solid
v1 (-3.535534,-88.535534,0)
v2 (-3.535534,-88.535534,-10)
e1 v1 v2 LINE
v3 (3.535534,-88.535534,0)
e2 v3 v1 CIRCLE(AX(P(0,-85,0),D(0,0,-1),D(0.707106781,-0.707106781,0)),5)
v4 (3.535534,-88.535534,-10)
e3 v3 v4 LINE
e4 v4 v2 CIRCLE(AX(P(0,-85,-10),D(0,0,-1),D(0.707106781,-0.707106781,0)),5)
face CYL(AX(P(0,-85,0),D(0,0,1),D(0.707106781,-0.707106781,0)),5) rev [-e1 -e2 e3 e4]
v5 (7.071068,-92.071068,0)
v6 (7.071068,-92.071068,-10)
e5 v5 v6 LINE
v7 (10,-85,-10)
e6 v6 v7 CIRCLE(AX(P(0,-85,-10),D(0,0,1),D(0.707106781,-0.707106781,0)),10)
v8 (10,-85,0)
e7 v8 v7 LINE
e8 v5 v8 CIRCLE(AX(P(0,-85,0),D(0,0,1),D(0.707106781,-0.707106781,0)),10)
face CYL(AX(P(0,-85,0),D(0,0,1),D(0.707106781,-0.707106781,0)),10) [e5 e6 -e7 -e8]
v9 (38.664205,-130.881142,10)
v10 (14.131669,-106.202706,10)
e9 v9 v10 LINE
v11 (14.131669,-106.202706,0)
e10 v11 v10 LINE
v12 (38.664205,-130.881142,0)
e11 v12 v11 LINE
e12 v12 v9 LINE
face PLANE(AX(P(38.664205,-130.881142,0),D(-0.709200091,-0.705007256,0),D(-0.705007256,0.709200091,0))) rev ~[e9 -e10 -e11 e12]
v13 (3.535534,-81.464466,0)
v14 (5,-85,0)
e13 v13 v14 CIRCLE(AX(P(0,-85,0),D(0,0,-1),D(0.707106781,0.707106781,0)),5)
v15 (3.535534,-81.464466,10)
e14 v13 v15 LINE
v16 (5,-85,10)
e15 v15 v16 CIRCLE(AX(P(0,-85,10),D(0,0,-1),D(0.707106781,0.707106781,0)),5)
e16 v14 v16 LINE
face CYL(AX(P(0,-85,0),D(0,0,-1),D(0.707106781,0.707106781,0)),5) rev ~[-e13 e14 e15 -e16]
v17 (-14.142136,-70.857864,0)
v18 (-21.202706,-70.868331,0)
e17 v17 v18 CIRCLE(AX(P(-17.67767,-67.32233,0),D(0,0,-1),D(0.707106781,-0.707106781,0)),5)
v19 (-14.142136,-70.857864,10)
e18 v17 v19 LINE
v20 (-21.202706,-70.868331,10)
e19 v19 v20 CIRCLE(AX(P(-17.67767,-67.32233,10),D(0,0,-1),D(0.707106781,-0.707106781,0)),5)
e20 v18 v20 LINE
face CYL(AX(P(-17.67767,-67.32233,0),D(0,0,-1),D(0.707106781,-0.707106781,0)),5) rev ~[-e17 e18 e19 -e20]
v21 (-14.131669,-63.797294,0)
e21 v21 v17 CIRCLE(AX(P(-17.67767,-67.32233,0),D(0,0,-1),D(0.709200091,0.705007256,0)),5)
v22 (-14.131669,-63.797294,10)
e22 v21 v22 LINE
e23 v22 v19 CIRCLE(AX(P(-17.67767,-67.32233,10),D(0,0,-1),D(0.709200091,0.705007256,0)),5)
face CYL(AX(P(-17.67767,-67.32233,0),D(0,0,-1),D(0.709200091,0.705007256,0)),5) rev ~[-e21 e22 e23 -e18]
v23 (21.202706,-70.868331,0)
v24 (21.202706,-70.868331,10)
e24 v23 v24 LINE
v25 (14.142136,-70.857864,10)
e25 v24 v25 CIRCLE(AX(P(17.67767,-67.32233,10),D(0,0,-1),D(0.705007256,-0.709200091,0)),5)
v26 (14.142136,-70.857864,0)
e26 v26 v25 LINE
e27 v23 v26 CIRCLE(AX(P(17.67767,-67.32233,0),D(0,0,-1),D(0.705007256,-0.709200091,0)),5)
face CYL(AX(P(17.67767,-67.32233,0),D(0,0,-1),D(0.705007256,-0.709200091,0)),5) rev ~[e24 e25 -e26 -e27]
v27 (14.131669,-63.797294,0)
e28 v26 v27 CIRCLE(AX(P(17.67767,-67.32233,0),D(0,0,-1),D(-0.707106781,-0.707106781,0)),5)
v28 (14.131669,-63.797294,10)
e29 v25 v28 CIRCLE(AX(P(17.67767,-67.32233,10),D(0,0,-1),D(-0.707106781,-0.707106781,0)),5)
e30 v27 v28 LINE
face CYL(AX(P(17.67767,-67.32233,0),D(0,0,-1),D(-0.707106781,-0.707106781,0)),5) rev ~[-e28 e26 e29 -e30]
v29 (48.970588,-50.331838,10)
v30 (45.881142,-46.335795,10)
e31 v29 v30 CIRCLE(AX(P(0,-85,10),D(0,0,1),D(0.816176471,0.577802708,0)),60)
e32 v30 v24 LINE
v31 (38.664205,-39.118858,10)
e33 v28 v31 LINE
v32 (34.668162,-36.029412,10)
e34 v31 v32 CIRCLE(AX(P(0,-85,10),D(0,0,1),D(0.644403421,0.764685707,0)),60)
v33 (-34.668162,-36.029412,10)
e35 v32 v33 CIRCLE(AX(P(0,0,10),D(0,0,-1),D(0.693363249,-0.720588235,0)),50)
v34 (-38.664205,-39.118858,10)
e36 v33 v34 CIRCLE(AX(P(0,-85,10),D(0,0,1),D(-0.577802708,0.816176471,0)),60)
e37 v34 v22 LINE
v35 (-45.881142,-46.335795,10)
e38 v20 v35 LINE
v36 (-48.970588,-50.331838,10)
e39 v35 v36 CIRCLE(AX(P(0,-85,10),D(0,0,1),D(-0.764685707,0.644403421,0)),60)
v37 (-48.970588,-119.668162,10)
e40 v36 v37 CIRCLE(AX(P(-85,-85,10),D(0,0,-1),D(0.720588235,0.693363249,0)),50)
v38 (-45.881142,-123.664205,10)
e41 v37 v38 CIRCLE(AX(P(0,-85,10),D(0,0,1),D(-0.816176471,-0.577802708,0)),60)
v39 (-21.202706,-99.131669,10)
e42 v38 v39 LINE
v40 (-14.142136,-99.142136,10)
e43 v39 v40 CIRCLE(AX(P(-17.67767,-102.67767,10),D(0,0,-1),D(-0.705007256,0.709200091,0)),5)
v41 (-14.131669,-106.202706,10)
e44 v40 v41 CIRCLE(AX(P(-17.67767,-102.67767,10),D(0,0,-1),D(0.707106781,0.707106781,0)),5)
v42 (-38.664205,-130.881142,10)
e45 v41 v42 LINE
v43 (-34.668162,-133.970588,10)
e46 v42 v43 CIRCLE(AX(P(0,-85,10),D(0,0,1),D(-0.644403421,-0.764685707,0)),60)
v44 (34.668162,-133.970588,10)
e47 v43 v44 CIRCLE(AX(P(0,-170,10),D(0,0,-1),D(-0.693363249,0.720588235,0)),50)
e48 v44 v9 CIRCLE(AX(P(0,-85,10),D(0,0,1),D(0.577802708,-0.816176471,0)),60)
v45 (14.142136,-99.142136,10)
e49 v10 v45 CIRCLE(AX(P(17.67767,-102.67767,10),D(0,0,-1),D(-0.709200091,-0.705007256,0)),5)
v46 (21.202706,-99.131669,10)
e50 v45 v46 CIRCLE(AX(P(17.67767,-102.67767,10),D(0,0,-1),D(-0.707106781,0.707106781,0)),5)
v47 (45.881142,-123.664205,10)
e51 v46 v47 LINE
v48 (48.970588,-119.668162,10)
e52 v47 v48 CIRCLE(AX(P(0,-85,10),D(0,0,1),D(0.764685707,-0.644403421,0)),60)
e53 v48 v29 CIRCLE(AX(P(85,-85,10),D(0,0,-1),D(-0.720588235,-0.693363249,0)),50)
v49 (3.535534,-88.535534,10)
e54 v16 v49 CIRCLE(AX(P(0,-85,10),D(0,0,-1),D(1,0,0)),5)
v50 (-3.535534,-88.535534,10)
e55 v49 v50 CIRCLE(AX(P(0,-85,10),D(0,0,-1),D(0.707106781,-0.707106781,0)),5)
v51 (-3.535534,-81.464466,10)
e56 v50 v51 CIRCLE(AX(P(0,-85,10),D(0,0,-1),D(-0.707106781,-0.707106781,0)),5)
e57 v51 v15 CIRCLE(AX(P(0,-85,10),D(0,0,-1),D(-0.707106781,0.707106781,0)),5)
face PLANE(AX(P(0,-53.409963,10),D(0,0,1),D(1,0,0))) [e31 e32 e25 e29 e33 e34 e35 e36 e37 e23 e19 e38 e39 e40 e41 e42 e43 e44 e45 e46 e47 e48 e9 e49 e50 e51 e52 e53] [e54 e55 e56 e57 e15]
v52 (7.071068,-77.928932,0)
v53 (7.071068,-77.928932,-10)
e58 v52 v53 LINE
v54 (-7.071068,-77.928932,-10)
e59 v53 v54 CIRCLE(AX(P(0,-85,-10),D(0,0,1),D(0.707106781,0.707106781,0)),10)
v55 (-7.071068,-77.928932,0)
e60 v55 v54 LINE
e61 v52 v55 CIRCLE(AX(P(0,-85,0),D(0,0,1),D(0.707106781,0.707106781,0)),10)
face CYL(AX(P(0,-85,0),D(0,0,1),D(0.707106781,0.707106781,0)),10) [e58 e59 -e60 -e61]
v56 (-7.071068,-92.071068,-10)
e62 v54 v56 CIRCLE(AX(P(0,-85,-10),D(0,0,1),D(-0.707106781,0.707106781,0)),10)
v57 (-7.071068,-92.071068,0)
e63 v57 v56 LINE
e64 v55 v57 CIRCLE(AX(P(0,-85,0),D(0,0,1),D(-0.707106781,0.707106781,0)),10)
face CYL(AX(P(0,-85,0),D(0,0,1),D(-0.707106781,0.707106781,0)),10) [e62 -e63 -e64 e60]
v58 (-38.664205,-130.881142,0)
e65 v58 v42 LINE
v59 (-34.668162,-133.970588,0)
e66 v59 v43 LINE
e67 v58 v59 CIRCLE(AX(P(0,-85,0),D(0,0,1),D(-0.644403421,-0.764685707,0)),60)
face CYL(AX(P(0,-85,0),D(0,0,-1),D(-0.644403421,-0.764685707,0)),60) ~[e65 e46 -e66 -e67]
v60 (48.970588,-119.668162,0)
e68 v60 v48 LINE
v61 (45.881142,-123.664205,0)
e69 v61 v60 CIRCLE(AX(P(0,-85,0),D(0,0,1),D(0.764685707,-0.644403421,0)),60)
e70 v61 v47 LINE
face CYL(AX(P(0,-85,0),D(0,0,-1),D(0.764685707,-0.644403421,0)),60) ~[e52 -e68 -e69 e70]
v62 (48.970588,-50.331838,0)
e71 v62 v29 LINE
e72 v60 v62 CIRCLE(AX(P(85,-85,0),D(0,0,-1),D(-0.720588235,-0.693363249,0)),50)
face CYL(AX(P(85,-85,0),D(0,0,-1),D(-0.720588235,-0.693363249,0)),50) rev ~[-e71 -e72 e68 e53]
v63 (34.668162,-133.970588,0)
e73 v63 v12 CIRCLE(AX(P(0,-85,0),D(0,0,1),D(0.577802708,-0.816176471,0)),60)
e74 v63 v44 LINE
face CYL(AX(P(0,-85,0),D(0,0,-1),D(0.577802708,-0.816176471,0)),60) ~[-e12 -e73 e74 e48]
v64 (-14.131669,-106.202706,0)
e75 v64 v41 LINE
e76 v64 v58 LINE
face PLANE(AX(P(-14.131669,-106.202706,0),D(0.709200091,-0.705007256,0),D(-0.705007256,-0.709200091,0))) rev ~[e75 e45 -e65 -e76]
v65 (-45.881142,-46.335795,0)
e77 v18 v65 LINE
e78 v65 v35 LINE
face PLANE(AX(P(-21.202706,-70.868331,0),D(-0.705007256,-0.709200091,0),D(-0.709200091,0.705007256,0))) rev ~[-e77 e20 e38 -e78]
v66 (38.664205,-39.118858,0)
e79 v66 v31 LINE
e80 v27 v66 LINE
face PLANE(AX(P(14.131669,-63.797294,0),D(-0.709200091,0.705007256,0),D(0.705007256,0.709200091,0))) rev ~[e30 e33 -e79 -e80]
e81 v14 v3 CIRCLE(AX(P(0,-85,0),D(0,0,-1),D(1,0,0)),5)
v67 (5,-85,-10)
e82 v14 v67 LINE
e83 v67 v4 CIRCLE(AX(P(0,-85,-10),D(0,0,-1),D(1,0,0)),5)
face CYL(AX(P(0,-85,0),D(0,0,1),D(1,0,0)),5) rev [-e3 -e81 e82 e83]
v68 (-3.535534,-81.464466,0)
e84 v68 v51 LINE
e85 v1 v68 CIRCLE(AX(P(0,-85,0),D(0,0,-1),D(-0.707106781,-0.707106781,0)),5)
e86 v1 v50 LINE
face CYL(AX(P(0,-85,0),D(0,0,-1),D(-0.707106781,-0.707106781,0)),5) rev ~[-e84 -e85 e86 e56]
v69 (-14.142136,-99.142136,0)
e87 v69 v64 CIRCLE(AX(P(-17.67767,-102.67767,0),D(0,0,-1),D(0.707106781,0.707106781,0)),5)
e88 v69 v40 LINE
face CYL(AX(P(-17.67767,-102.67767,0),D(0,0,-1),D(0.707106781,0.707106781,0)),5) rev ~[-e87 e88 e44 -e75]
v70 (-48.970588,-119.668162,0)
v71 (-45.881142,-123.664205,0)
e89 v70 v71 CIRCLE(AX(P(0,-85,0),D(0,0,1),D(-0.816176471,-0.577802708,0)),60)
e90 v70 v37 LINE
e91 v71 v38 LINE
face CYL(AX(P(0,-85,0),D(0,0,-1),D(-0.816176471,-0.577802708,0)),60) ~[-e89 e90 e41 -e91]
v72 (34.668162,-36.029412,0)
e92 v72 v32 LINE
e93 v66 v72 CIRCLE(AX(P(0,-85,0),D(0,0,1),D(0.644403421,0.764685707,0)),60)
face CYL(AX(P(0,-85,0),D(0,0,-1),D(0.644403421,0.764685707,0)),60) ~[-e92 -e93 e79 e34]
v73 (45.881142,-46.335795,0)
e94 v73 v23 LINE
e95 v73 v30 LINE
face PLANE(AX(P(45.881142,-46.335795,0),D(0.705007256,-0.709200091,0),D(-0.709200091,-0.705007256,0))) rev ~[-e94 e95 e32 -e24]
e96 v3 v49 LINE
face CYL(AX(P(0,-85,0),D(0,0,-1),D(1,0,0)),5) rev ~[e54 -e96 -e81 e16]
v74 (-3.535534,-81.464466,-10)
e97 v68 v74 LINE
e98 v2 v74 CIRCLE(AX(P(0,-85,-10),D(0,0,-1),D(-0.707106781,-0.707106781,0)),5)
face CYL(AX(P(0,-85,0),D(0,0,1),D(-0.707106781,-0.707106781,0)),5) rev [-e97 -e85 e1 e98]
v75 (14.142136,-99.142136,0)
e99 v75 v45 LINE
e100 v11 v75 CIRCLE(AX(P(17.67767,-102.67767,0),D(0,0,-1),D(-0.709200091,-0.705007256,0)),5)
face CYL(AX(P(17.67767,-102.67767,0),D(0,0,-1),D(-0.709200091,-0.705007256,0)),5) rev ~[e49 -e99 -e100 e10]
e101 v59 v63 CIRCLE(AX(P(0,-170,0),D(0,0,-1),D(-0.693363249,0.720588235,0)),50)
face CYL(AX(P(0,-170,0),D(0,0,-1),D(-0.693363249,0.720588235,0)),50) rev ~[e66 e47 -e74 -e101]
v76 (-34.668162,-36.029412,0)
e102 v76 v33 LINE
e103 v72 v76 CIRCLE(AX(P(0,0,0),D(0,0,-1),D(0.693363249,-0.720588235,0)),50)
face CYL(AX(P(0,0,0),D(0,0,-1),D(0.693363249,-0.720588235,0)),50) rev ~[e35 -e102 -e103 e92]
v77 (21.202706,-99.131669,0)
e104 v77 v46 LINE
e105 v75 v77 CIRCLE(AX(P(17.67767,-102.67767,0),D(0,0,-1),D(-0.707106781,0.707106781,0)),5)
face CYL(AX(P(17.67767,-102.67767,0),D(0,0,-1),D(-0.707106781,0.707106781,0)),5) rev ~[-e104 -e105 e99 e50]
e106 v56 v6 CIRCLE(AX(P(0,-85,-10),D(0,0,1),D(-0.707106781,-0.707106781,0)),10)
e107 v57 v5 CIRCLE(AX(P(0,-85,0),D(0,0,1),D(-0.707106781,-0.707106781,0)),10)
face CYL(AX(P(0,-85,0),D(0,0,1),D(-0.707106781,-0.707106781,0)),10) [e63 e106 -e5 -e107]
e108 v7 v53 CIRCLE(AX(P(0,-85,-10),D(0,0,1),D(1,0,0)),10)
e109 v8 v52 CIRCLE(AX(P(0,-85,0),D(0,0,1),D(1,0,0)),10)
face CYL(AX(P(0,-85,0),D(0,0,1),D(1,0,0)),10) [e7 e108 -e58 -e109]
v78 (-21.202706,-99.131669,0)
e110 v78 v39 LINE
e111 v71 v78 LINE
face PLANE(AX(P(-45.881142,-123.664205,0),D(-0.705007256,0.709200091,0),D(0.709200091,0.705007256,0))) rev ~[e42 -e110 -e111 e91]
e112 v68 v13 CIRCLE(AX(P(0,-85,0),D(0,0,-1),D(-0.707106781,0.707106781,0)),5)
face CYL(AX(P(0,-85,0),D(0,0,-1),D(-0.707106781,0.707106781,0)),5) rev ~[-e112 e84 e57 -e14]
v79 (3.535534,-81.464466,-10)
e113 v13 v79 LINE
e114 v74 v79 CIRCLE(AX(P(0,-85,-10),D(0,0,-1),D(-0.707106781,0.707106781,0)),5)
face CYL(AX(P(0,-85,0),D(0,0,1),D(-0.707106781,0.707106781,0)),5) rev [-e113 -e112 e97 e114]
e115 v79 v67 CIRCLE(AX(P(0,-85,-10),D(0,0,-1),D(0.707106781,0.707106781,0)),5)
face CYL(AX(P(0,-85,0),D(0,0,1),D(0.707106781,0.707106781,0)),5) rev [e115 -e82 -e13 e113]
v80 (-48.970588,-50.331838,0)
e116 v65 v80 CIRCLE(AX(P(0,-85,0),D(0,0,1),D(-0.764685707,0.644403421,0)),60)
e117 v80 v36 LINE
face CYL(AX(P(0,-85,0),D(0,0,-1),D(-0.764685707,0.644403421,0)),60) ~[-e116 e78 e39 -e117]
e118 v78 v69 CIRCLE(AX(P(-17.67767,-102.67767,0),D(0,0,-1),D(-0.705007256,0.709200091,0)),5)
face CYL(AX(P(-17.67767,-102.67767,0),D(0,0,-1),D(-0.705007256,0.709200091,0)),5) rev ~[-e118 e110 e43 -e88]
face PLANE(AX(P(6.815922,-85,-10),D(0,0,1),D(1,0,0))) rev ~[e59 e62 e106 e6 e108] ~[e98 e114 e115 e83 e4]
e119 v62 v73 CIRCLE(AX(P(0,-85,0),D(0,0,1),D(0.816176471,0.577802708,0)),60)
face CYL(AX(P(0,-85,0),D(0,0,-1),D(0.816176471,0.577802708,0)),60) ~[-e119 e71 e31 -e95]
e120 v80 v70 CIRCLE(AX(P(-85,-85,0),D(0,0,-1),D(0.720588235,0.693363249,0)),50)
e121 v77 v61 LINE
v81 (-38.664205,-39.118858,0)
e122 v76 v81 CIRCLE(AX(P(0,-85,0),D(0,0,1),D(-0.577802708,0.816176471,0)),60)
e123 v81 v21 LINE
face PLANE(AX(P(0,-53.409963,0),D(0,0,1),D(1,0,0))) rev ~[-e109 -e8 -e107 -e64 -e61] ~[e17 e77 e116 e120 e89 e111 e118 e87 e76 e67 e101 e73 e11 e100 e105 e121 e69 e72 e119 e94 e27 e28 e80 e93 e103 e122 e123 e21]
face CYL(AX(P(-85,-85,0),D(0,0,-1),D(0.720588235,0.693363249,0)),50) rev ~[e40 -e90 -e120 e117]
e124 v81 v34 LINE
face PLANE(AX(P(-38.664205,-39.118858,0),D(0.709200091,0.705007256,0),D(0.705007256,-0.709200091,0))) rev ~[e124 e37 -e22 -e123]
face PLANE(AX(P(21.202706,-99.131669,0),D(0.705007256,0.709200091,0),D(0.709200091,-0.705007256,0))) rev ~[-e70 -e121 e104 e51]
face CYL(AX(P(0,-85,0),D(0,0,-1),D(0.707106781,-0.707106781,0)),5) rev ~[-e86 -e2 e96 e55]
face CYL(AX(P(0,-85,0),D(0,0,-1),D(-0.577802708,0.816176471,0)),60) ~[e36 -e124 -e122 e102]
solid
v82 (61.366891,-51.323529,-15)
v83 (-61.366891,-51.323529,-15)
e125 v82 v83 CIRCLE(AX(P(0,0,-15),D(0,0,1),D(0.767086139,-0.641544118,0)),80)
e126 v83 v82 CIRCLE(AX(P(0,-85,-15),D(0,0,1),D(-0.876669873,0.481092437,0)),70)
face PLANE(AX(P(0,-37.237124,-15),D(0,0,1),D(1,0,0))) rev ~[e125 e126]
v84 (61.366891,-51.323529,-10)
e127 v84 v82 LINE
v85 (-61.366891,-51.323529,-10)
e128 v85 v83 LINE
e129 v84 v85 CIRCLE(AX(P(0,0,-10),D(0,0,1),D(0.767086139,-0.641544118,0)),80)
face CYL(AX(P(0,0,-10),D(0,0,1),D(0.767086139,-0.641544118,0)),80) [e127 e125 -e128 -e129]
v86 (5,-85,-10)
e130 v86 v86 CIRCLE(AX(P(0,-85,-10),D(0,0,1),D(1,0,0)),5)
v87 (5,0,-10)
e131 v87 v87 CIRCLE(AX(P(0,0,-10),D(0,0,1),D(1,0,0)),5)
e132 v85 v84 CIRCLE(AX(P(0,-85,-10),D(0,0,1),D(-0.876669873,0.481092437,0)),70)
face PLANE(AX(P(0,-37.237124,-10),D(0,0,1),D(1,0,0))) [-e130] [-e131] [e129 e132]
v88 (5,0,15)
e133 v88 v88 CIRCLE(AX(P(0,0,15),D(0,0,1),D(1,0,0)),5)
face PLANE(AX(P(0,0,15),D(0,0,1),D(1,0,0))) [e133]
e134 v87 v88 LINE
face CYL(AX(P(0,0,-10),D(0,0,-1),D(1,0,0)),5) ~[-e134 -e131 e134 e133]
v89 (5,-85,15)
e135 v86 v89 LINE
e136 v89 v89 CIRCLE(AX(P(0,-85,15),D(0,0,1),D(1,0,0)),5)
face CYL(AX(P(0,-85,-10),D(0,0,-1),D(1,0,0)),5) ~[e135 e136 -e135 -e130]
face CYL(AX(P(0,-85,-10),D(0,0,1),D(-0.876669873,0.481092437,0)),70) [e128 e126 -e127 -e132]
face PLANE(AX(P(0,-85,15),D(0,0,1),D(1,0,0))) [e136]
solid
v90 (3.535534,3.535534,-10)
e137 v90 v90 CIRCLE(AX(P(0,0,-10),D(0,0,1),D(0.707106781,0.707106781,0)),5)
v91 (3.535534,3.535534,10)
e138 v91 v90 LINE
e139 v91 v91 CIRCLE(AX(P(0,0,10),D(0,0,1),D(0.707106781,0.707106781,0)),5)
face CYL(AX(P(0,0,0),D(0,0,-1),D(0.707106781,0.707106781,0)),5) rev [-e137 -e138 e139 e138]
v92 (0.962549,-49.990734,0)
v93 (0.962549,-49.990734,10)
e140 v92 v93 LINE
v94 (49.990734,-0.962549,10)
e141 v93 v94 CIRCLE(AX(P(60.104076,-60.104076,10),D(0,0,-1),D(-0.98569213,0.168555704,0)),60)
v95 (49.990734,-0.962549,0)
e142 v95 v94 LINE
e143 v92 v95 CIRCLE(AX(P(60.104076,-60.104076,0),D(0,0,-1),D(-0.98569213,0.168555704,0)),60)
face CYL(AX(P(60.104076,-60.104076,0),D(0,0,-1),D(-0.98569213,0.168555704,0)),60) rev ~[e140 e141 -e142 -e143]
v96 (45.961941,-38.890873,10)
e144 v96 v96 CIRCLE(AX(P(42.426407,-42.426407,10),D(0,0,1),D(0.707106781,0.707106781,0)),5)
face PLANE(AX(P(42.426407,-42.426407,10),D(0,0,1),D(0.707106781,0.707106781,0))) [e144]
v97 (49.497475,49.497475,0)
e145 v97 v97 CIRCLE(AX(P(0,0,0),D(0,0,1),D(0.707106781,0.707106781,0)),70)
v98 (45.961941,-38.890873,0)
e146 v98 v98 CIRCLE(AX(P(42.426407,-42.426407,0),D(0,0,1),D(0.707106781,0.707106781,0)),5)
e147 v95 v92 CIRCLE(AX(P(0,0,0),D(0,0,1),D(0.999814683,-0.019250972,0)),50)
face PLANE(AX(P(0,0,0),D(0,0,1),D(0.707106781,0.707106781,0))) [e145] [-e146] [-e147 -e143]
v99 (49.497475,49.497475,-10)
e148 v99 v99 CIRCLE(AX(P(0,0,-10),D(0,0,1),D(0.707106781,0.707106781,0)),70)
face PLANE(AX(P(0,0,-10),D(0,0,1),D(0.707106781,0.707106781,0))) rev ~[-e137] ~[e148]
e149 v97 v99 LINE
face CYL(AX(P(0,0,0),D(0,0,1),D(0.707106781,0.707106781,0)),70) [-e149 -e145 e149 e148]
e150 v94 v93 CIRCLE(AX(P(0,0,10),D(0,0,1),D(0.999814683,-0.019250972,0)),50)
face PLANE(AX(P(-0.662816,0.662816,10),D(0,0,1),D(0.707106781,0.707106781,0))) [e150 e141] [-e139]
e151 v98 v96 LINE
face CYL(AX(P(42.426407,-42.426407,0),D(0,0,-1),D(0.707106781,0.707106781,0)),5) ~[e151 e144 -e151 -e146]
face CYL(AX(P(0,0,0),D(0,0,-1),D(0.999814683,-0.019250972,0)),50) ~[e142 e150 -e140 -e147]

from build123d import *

# Parameters (mm, degrees)
F1_R      = 70
F1_R_2    = 5
F2_DEPTH  = 10
F3_DEPTH  = 10
F4_ANGLE  = 45
F6_DEPTH  = 10
F7_DEPTH  = 10
F8_R      = 5
F9_DEPTH  = 5
F10_DEPTH = 25


with BuildPart() as f2:
    # F1 (on Top) → F2 (new body, through all)
    with BuildSketch(Plane.XY):
        Circle(F1_R)
        with Locations((0, -60)):
            Circle(F1_R_2, mode=Mode.SUBTRACT)
        with BuildLine():
            ThreePointArc((-34.6681624533, -36.0294117647), (0, 50), (34.6681624533, -36.0294117647))
            ThreePointArc((34.6681624533, -36.0294117647), (0, -25), (-34.6681624533, -36.0294117647))
        make_face(mode=Mode.SUBTRACT)
        with BuildLine():
            ThreePointArc((-34.6681624533, -36.0294117647), (0, -25), (34.6681624533, -36.0294117647))
            ThreePointArc((34.6681624533, -36.0294117647), (0, 50), (-34.6681624533, -36.0294117647))
        make_face()
        Circle(F1_R_2, mode=Mode.SUBTRACT)
        with Locations((0, -60)):
            Circle(F1_R_2)
    extrude(amount=-F2_DEPTH)

    # F1 (on Top) → F3 (join)
    with BuildSketch(Plane.XY):
        with BuildLine():
            ThreePointArc((-34.6681624533, -36.0294117647), (0, -25), (34.6681624533, -36.0294117647))
            ThreePointArc((34.6681624533, -36.0294117647), (0, 50), (-34.6681624533, -36.0294117647))
        make_face()
        Circle(F1_R_2, mode=Mode.SUBTRACT)
        with Locations((0, -60)):
            Circle(F1_R_2)
    extrude(amount=F3_DEPTH)


with BuildPart() as f2_1:
    # F4: moved
    add(f2.part.rotate(Axis((0, 0, 10), (0, 0, 1)), F4_ANGLE))


with BuildPart() as f6:
    # F5 (on Top) → F6 (new body)
    with BuildSketch(Plane.XY):
        with BuildLine():
            ThreePointArc((34.6681624533, -36.0294117647), (0, -50), (-34.6681624533, -36.0294117647))
            ThreePointArc((-34.6681624533, -36.0294117647), (-36.6987085211, -37.532065635), (-38.6642052515, -39.1188575527))
            Line((-38.6642052515, -39.1188575527), (-14.1316690741, -63.7972941912))
            ThreePointArc((-14.1316690741, -63.7972941912), (-12.6776750234, -67.3297424342), (-14.1421356237, -70.8578643763))
            Line((-14.1421356237, -70.8578643763), (-7.0710678119, -77.9289321881))
            ThreePointArc((-7.0710678119, -77.9289321881), (0, -75), (7.0710678119, -77.9289321881))
            Line((7.0710678119, -77.9289321881), (14.1421356237, -70.8578643763))
            ThreePointArc((14.1421356237, -70.8578643763), (12.6776750234, -67.3297424342), (14.1316690741, -63.7972941912))
            Line((14.1316690741, -63.7972941912), (38.6642052515, -39.1188575527))
            ThreePointArc((38.6642052515, -39.1188575527), (36.6987085211, -37.532065635), (34.6681624533, -36.0294117647))
        make_face()
        with BuildLine():
            Line((-7.0710678119, -77.9289321881), (-14.1421356237, -70.8578643763))
            ThreePointArc((-14.1421356237, -70.8578643763), (-17.6702575658, -72.3223249766), (-21.2027058088, -70.8683309259))
            Line((-21.2027058088, -70.8683309259), (-45.8811424473, -46.3357947485))
            ThreePointArc((-45.8811424473, -46.3357947485), (-47.467934365, -48.3012914789), (-48.9705882353, -50.3318375467))
            ThreePointArc((-48.9705882353, -50.3318375467), (-35, -85), (-48.9705882353, -119.6681624533))
            ThreePointArc((-48.9705882353, -119.6681624533), (-47.467934365, -121.6987085211), (-45.8811424473, -123.6642052515))
            Line((-45.8811424473, -123.6642052515), (-21.2027058088, -99.1316690741))
            ThreePointArc((-21.2027058088, -99.1316690741), (-17.6702575658, -97.6776750234), (-14.1421356237, -99.1421356237))
            Line((-14.1421356237, -99.1421356237), (-7.0710678119, -92.0710678119))
            ThreePointArc((-7.0710678119, -92.0710678119), (-10, -85), (-7.0710678119, -77.9289321881))
        make_face()
        with BuildLine():
            ThreePointArc((21.2027058088, -70.8683309259), (17.6702575658, -72.3223249766), (14.1421356237, -70.8578643763))
            Line((14.1421356237, -70.8578643763), (7.0710678119, -77.9289321881))
            ThreePointArc((7.0710678119, -77.9289321881), (9.2387953251, -81.1731656763), (10, -85))
            ThreePointArc((10, -85), (9.2387953251, -88.8268343237), (7.0710678119, -92.0710678119))
            Line((7.0710678119, -92.0710678119), (14.1421356237, -99.1421356237))
            ThreePointArc((14.1421356237, -99.1421356237), (17.6702575658, -97.6776750234), (21.2027058088, -99.1316690741))
            Line((21.2027058088, -99.1316690741), (45.8811424473, -123.6642052515))
            ThreePointArc((45.8811424473, -123.6642052515), (47.467934365, -121.6987085211), (48.9705882353, -119.6681624533))
            ThreePointArc((48.9705882353, -119.6681624533), (35, -85), (48.9705882353, -50.3318375467))
            ThreePointArc((48.9705882353, -50.3318375467), (47.467934365, -48.3012914789), (45.8811424473, -46.3357947485))
            Line((45.8811424473, -46.3357947485), (21.2027058088, -70.8683309259))
        make_face()
        with BuildLine():
            ThreePointArc((7.0710678119, -92.0710678119), (0, -95), (-7.0710678119, -92.0710678119))
            Line((-7.0710678119, -92.0710678119), (-14.1421356237, -99.1421356237))
            ThreePointArc((-14.1421356237, -99.1421356237), (-12.6776750234, -102.6702575658), (-14.1316690741, -106.2027058088))
            Line((-14.1316690741, -106.2027058088), (-38.6642052515, -130.8811424473))
            ThreePointArc((-38.6642052515, -130.8811424473), (-36.6987085211, -132.467934365), (-34.6681624533, -133.9705882353))
            ThreePointArc((-34.6681624533, -133.9705882353), (0, -120), (34.6681624533, -133.9705882353))
            ThreePointArc((34.6681624533, -133.9705882353), (36.6987085211, -132.467934365), (38.6642052515, -130.8811424473))
            Line((38.6642052515, -130.8811424473), (14.1316690741, -106.2027058088))
            ThreePointArc((14.1316690741, -106.2027058088), (12.6776750234, -102.6702575658), (14.1421356237, -99.1421356237))
            Line((14.1421356237, -99.1421356237), (7.0710678119, -92.0710678119))
        make_face()
        with BuildLine():
            Line((-3.5355339059, -81.4644660941), (-7.0710678119, -77.9289321881))
            ThreePointArc((-7.0710678119, -77.9289321881), (-10, -85), (-7.0710678119, -92.0710678119))
            Line((-7.0710678119, -92.0710678119), (-3.5355339059, -88.5355339059))
            ThreePointArc((-3.5355339059, -88.5355339059), (-5, -85), (-3.5355339059, -81.4644660941))
        make_face()
        with BuildLine():
            ThreePointArc((7.0710678119, -77.9289321881), (0, -75), (-7.0710678119, -77.9289321881))
            Line((-7.0710678119, -77.9289321881), (-3.5355339059, -81.4644660941))
            ThreePointArc((-3.5355339059, -81.4644660941), (0, -80), (3.5355339059, -81.4644660941))
            Line((3.5355339059, -81.4644660941), (7.0710678119, -77.9289321881))
        make_face()
        with BuildLine():
            ThreePointArc((10, -85), (9.2387953251, -81.1731656763), (7.0710678119, -77.9289321881))
            Line((7.0710678119, -77.9289321881), (3.5355339059, -81.4644660941))
            ThreePointArc((3.5355339059, -81.4644660941), (4.6193976626, -83.0865828382), (5, -85))
            ThreePointArc((5, -85), (4.6193976626, -86.9134171618), (3.5355339059, -88.5355339059))
            Line((3.5355339059, -88.5355339059), (7.0710678119, -92.0710678119))
            ThreePointArc((7.0710678119, -92.0710678119), (9.2387953251, -88.8268343237), (10, -85))
        make_face()
        with BuildLine():
            Line((-3.5355339059, -88.5355339059), (-7.0710678119, -92.0710678119))
            ThreePointArc((-7.0710678119, -92.0710678119), (0, -95), (7.0710678119, -92.0710678119))
            Line((7.0710678119, -92.0710678119), (3.5355339059, -88.5355339059))
            ThreePointArc((3.5355339059, -88.5355339059), (0, -90), (-3.5355339059, -88.5355339059))
        make_face()
    extrude(amount=F6_DEPTH)

    # F5 (on Top) → F7 (join, through all)
    with BuildSketch(Plane.XY):
        with BuildLine():
            ThreePointArc((10, -85), (9.2387953251, -81.1731656763), (7.0710678119, -77.9289321881))
            Line((7.0710678119, -77.9289321881), (3.5355339059, -81.4644660941))
            ThreePointArc((3.5355339059, -81.4644660941), (4.6193976626, -83.0865828382), (5, -85))
            ThreePointArc((5, -85), (4.6193976626, -86.9134171618), (3.5355339059, -88.5355339059))
            Line((3.5355339059, -88.5355339059), (7.0710678119, -92.0710678119))
            ThreePointArc((7.0710678119, -92.0710678119), (9.2387953251, -88.8268343237), (10, -85))
        make_face()
        with BuildLine():
            Line((-3.5355339059, -88.5355339059), (-7.0710678119, -92.0710678119))
            ThreePointArc((-7.0710678119, -92.0710678119), (0, -95), (7.0710678119, -92.0710678119))
            Line((7.0710678119, -92.0710678119), (3.5355339059, -88.5355339059))
            ThreePointArc((3.5355339059, -88.5355339059), (0, -90), (-3.5355339059, -88.5355339059))
        make_face()
        with BuildLine():
            Line((-3.5355339059, -81.4644660941), (-7.0710678119, -77.9289321881))
            ThreePointArc((-7.0710678119, -77.9289321881), (-10, -85), (-7.0710678119, -92.0710678119))
            Line((-7.0710678119, -92.0710678119), (-3.5355339059, -88.5355339059))
            ThreePointArc((-3.5355339059, -88.5355339059), (-5, -85), (-3.5355339059, -81.4644660941))
        make_face()
        with BuildLine():
            ThreePointArc((7.0710678119, -77.9289321881), (0, -75), (-7.0710678119, -77.9289321881))
            Line((-7.0710678119, -77.9289321881), (-3.5355339059, -81.4644660941))
            ThreePointArc((-3.5355339059, -81.4644660941), (0, -80), (3.5355339059, -81.4644660941))
            Line((3.5355339059, -81.4644660941), (7.0710678119, -77.9289321881))
        make_face()
    extrude(amount=-F7_DEPTH)


with BuildPart() as f9:
    # F8 (on offset) → F9 (new body)
    with BuildSketch(Plane.XY.offset(-10)):
        with BuildLine():
            ThreePointArc((-61.3668911443, -51.3235294118), (0, -155), (61.3668911443, -51.3235294118))
            ThreePointArc((61.3668911443, -51.3235294118), (0, 80), (-61.3668911443, -51.3235294118))
        make_face()
        with Locations((0, -85)):
            Circle(F8_R, mode=Mode.SUBTRACT)
        Circle(F8_R, mode=Mode.SUBTRACT)
        with Locations((0, -85)):
            Circle(F8_R)
        Circle(F8_R)
    extrude(amount=-F9_DEPTH)

    # F8 (on offset) → F10 (join)
    with BuildSketch(Plane.XY.offset(-10)):
        Circle(F8_R)
        with Locations((0, -85)):
            Circle(F8_R)
    extrude(amount=F10_DEPTH)


solid = Compound([f2_1.part, f6.part, f9.part])
